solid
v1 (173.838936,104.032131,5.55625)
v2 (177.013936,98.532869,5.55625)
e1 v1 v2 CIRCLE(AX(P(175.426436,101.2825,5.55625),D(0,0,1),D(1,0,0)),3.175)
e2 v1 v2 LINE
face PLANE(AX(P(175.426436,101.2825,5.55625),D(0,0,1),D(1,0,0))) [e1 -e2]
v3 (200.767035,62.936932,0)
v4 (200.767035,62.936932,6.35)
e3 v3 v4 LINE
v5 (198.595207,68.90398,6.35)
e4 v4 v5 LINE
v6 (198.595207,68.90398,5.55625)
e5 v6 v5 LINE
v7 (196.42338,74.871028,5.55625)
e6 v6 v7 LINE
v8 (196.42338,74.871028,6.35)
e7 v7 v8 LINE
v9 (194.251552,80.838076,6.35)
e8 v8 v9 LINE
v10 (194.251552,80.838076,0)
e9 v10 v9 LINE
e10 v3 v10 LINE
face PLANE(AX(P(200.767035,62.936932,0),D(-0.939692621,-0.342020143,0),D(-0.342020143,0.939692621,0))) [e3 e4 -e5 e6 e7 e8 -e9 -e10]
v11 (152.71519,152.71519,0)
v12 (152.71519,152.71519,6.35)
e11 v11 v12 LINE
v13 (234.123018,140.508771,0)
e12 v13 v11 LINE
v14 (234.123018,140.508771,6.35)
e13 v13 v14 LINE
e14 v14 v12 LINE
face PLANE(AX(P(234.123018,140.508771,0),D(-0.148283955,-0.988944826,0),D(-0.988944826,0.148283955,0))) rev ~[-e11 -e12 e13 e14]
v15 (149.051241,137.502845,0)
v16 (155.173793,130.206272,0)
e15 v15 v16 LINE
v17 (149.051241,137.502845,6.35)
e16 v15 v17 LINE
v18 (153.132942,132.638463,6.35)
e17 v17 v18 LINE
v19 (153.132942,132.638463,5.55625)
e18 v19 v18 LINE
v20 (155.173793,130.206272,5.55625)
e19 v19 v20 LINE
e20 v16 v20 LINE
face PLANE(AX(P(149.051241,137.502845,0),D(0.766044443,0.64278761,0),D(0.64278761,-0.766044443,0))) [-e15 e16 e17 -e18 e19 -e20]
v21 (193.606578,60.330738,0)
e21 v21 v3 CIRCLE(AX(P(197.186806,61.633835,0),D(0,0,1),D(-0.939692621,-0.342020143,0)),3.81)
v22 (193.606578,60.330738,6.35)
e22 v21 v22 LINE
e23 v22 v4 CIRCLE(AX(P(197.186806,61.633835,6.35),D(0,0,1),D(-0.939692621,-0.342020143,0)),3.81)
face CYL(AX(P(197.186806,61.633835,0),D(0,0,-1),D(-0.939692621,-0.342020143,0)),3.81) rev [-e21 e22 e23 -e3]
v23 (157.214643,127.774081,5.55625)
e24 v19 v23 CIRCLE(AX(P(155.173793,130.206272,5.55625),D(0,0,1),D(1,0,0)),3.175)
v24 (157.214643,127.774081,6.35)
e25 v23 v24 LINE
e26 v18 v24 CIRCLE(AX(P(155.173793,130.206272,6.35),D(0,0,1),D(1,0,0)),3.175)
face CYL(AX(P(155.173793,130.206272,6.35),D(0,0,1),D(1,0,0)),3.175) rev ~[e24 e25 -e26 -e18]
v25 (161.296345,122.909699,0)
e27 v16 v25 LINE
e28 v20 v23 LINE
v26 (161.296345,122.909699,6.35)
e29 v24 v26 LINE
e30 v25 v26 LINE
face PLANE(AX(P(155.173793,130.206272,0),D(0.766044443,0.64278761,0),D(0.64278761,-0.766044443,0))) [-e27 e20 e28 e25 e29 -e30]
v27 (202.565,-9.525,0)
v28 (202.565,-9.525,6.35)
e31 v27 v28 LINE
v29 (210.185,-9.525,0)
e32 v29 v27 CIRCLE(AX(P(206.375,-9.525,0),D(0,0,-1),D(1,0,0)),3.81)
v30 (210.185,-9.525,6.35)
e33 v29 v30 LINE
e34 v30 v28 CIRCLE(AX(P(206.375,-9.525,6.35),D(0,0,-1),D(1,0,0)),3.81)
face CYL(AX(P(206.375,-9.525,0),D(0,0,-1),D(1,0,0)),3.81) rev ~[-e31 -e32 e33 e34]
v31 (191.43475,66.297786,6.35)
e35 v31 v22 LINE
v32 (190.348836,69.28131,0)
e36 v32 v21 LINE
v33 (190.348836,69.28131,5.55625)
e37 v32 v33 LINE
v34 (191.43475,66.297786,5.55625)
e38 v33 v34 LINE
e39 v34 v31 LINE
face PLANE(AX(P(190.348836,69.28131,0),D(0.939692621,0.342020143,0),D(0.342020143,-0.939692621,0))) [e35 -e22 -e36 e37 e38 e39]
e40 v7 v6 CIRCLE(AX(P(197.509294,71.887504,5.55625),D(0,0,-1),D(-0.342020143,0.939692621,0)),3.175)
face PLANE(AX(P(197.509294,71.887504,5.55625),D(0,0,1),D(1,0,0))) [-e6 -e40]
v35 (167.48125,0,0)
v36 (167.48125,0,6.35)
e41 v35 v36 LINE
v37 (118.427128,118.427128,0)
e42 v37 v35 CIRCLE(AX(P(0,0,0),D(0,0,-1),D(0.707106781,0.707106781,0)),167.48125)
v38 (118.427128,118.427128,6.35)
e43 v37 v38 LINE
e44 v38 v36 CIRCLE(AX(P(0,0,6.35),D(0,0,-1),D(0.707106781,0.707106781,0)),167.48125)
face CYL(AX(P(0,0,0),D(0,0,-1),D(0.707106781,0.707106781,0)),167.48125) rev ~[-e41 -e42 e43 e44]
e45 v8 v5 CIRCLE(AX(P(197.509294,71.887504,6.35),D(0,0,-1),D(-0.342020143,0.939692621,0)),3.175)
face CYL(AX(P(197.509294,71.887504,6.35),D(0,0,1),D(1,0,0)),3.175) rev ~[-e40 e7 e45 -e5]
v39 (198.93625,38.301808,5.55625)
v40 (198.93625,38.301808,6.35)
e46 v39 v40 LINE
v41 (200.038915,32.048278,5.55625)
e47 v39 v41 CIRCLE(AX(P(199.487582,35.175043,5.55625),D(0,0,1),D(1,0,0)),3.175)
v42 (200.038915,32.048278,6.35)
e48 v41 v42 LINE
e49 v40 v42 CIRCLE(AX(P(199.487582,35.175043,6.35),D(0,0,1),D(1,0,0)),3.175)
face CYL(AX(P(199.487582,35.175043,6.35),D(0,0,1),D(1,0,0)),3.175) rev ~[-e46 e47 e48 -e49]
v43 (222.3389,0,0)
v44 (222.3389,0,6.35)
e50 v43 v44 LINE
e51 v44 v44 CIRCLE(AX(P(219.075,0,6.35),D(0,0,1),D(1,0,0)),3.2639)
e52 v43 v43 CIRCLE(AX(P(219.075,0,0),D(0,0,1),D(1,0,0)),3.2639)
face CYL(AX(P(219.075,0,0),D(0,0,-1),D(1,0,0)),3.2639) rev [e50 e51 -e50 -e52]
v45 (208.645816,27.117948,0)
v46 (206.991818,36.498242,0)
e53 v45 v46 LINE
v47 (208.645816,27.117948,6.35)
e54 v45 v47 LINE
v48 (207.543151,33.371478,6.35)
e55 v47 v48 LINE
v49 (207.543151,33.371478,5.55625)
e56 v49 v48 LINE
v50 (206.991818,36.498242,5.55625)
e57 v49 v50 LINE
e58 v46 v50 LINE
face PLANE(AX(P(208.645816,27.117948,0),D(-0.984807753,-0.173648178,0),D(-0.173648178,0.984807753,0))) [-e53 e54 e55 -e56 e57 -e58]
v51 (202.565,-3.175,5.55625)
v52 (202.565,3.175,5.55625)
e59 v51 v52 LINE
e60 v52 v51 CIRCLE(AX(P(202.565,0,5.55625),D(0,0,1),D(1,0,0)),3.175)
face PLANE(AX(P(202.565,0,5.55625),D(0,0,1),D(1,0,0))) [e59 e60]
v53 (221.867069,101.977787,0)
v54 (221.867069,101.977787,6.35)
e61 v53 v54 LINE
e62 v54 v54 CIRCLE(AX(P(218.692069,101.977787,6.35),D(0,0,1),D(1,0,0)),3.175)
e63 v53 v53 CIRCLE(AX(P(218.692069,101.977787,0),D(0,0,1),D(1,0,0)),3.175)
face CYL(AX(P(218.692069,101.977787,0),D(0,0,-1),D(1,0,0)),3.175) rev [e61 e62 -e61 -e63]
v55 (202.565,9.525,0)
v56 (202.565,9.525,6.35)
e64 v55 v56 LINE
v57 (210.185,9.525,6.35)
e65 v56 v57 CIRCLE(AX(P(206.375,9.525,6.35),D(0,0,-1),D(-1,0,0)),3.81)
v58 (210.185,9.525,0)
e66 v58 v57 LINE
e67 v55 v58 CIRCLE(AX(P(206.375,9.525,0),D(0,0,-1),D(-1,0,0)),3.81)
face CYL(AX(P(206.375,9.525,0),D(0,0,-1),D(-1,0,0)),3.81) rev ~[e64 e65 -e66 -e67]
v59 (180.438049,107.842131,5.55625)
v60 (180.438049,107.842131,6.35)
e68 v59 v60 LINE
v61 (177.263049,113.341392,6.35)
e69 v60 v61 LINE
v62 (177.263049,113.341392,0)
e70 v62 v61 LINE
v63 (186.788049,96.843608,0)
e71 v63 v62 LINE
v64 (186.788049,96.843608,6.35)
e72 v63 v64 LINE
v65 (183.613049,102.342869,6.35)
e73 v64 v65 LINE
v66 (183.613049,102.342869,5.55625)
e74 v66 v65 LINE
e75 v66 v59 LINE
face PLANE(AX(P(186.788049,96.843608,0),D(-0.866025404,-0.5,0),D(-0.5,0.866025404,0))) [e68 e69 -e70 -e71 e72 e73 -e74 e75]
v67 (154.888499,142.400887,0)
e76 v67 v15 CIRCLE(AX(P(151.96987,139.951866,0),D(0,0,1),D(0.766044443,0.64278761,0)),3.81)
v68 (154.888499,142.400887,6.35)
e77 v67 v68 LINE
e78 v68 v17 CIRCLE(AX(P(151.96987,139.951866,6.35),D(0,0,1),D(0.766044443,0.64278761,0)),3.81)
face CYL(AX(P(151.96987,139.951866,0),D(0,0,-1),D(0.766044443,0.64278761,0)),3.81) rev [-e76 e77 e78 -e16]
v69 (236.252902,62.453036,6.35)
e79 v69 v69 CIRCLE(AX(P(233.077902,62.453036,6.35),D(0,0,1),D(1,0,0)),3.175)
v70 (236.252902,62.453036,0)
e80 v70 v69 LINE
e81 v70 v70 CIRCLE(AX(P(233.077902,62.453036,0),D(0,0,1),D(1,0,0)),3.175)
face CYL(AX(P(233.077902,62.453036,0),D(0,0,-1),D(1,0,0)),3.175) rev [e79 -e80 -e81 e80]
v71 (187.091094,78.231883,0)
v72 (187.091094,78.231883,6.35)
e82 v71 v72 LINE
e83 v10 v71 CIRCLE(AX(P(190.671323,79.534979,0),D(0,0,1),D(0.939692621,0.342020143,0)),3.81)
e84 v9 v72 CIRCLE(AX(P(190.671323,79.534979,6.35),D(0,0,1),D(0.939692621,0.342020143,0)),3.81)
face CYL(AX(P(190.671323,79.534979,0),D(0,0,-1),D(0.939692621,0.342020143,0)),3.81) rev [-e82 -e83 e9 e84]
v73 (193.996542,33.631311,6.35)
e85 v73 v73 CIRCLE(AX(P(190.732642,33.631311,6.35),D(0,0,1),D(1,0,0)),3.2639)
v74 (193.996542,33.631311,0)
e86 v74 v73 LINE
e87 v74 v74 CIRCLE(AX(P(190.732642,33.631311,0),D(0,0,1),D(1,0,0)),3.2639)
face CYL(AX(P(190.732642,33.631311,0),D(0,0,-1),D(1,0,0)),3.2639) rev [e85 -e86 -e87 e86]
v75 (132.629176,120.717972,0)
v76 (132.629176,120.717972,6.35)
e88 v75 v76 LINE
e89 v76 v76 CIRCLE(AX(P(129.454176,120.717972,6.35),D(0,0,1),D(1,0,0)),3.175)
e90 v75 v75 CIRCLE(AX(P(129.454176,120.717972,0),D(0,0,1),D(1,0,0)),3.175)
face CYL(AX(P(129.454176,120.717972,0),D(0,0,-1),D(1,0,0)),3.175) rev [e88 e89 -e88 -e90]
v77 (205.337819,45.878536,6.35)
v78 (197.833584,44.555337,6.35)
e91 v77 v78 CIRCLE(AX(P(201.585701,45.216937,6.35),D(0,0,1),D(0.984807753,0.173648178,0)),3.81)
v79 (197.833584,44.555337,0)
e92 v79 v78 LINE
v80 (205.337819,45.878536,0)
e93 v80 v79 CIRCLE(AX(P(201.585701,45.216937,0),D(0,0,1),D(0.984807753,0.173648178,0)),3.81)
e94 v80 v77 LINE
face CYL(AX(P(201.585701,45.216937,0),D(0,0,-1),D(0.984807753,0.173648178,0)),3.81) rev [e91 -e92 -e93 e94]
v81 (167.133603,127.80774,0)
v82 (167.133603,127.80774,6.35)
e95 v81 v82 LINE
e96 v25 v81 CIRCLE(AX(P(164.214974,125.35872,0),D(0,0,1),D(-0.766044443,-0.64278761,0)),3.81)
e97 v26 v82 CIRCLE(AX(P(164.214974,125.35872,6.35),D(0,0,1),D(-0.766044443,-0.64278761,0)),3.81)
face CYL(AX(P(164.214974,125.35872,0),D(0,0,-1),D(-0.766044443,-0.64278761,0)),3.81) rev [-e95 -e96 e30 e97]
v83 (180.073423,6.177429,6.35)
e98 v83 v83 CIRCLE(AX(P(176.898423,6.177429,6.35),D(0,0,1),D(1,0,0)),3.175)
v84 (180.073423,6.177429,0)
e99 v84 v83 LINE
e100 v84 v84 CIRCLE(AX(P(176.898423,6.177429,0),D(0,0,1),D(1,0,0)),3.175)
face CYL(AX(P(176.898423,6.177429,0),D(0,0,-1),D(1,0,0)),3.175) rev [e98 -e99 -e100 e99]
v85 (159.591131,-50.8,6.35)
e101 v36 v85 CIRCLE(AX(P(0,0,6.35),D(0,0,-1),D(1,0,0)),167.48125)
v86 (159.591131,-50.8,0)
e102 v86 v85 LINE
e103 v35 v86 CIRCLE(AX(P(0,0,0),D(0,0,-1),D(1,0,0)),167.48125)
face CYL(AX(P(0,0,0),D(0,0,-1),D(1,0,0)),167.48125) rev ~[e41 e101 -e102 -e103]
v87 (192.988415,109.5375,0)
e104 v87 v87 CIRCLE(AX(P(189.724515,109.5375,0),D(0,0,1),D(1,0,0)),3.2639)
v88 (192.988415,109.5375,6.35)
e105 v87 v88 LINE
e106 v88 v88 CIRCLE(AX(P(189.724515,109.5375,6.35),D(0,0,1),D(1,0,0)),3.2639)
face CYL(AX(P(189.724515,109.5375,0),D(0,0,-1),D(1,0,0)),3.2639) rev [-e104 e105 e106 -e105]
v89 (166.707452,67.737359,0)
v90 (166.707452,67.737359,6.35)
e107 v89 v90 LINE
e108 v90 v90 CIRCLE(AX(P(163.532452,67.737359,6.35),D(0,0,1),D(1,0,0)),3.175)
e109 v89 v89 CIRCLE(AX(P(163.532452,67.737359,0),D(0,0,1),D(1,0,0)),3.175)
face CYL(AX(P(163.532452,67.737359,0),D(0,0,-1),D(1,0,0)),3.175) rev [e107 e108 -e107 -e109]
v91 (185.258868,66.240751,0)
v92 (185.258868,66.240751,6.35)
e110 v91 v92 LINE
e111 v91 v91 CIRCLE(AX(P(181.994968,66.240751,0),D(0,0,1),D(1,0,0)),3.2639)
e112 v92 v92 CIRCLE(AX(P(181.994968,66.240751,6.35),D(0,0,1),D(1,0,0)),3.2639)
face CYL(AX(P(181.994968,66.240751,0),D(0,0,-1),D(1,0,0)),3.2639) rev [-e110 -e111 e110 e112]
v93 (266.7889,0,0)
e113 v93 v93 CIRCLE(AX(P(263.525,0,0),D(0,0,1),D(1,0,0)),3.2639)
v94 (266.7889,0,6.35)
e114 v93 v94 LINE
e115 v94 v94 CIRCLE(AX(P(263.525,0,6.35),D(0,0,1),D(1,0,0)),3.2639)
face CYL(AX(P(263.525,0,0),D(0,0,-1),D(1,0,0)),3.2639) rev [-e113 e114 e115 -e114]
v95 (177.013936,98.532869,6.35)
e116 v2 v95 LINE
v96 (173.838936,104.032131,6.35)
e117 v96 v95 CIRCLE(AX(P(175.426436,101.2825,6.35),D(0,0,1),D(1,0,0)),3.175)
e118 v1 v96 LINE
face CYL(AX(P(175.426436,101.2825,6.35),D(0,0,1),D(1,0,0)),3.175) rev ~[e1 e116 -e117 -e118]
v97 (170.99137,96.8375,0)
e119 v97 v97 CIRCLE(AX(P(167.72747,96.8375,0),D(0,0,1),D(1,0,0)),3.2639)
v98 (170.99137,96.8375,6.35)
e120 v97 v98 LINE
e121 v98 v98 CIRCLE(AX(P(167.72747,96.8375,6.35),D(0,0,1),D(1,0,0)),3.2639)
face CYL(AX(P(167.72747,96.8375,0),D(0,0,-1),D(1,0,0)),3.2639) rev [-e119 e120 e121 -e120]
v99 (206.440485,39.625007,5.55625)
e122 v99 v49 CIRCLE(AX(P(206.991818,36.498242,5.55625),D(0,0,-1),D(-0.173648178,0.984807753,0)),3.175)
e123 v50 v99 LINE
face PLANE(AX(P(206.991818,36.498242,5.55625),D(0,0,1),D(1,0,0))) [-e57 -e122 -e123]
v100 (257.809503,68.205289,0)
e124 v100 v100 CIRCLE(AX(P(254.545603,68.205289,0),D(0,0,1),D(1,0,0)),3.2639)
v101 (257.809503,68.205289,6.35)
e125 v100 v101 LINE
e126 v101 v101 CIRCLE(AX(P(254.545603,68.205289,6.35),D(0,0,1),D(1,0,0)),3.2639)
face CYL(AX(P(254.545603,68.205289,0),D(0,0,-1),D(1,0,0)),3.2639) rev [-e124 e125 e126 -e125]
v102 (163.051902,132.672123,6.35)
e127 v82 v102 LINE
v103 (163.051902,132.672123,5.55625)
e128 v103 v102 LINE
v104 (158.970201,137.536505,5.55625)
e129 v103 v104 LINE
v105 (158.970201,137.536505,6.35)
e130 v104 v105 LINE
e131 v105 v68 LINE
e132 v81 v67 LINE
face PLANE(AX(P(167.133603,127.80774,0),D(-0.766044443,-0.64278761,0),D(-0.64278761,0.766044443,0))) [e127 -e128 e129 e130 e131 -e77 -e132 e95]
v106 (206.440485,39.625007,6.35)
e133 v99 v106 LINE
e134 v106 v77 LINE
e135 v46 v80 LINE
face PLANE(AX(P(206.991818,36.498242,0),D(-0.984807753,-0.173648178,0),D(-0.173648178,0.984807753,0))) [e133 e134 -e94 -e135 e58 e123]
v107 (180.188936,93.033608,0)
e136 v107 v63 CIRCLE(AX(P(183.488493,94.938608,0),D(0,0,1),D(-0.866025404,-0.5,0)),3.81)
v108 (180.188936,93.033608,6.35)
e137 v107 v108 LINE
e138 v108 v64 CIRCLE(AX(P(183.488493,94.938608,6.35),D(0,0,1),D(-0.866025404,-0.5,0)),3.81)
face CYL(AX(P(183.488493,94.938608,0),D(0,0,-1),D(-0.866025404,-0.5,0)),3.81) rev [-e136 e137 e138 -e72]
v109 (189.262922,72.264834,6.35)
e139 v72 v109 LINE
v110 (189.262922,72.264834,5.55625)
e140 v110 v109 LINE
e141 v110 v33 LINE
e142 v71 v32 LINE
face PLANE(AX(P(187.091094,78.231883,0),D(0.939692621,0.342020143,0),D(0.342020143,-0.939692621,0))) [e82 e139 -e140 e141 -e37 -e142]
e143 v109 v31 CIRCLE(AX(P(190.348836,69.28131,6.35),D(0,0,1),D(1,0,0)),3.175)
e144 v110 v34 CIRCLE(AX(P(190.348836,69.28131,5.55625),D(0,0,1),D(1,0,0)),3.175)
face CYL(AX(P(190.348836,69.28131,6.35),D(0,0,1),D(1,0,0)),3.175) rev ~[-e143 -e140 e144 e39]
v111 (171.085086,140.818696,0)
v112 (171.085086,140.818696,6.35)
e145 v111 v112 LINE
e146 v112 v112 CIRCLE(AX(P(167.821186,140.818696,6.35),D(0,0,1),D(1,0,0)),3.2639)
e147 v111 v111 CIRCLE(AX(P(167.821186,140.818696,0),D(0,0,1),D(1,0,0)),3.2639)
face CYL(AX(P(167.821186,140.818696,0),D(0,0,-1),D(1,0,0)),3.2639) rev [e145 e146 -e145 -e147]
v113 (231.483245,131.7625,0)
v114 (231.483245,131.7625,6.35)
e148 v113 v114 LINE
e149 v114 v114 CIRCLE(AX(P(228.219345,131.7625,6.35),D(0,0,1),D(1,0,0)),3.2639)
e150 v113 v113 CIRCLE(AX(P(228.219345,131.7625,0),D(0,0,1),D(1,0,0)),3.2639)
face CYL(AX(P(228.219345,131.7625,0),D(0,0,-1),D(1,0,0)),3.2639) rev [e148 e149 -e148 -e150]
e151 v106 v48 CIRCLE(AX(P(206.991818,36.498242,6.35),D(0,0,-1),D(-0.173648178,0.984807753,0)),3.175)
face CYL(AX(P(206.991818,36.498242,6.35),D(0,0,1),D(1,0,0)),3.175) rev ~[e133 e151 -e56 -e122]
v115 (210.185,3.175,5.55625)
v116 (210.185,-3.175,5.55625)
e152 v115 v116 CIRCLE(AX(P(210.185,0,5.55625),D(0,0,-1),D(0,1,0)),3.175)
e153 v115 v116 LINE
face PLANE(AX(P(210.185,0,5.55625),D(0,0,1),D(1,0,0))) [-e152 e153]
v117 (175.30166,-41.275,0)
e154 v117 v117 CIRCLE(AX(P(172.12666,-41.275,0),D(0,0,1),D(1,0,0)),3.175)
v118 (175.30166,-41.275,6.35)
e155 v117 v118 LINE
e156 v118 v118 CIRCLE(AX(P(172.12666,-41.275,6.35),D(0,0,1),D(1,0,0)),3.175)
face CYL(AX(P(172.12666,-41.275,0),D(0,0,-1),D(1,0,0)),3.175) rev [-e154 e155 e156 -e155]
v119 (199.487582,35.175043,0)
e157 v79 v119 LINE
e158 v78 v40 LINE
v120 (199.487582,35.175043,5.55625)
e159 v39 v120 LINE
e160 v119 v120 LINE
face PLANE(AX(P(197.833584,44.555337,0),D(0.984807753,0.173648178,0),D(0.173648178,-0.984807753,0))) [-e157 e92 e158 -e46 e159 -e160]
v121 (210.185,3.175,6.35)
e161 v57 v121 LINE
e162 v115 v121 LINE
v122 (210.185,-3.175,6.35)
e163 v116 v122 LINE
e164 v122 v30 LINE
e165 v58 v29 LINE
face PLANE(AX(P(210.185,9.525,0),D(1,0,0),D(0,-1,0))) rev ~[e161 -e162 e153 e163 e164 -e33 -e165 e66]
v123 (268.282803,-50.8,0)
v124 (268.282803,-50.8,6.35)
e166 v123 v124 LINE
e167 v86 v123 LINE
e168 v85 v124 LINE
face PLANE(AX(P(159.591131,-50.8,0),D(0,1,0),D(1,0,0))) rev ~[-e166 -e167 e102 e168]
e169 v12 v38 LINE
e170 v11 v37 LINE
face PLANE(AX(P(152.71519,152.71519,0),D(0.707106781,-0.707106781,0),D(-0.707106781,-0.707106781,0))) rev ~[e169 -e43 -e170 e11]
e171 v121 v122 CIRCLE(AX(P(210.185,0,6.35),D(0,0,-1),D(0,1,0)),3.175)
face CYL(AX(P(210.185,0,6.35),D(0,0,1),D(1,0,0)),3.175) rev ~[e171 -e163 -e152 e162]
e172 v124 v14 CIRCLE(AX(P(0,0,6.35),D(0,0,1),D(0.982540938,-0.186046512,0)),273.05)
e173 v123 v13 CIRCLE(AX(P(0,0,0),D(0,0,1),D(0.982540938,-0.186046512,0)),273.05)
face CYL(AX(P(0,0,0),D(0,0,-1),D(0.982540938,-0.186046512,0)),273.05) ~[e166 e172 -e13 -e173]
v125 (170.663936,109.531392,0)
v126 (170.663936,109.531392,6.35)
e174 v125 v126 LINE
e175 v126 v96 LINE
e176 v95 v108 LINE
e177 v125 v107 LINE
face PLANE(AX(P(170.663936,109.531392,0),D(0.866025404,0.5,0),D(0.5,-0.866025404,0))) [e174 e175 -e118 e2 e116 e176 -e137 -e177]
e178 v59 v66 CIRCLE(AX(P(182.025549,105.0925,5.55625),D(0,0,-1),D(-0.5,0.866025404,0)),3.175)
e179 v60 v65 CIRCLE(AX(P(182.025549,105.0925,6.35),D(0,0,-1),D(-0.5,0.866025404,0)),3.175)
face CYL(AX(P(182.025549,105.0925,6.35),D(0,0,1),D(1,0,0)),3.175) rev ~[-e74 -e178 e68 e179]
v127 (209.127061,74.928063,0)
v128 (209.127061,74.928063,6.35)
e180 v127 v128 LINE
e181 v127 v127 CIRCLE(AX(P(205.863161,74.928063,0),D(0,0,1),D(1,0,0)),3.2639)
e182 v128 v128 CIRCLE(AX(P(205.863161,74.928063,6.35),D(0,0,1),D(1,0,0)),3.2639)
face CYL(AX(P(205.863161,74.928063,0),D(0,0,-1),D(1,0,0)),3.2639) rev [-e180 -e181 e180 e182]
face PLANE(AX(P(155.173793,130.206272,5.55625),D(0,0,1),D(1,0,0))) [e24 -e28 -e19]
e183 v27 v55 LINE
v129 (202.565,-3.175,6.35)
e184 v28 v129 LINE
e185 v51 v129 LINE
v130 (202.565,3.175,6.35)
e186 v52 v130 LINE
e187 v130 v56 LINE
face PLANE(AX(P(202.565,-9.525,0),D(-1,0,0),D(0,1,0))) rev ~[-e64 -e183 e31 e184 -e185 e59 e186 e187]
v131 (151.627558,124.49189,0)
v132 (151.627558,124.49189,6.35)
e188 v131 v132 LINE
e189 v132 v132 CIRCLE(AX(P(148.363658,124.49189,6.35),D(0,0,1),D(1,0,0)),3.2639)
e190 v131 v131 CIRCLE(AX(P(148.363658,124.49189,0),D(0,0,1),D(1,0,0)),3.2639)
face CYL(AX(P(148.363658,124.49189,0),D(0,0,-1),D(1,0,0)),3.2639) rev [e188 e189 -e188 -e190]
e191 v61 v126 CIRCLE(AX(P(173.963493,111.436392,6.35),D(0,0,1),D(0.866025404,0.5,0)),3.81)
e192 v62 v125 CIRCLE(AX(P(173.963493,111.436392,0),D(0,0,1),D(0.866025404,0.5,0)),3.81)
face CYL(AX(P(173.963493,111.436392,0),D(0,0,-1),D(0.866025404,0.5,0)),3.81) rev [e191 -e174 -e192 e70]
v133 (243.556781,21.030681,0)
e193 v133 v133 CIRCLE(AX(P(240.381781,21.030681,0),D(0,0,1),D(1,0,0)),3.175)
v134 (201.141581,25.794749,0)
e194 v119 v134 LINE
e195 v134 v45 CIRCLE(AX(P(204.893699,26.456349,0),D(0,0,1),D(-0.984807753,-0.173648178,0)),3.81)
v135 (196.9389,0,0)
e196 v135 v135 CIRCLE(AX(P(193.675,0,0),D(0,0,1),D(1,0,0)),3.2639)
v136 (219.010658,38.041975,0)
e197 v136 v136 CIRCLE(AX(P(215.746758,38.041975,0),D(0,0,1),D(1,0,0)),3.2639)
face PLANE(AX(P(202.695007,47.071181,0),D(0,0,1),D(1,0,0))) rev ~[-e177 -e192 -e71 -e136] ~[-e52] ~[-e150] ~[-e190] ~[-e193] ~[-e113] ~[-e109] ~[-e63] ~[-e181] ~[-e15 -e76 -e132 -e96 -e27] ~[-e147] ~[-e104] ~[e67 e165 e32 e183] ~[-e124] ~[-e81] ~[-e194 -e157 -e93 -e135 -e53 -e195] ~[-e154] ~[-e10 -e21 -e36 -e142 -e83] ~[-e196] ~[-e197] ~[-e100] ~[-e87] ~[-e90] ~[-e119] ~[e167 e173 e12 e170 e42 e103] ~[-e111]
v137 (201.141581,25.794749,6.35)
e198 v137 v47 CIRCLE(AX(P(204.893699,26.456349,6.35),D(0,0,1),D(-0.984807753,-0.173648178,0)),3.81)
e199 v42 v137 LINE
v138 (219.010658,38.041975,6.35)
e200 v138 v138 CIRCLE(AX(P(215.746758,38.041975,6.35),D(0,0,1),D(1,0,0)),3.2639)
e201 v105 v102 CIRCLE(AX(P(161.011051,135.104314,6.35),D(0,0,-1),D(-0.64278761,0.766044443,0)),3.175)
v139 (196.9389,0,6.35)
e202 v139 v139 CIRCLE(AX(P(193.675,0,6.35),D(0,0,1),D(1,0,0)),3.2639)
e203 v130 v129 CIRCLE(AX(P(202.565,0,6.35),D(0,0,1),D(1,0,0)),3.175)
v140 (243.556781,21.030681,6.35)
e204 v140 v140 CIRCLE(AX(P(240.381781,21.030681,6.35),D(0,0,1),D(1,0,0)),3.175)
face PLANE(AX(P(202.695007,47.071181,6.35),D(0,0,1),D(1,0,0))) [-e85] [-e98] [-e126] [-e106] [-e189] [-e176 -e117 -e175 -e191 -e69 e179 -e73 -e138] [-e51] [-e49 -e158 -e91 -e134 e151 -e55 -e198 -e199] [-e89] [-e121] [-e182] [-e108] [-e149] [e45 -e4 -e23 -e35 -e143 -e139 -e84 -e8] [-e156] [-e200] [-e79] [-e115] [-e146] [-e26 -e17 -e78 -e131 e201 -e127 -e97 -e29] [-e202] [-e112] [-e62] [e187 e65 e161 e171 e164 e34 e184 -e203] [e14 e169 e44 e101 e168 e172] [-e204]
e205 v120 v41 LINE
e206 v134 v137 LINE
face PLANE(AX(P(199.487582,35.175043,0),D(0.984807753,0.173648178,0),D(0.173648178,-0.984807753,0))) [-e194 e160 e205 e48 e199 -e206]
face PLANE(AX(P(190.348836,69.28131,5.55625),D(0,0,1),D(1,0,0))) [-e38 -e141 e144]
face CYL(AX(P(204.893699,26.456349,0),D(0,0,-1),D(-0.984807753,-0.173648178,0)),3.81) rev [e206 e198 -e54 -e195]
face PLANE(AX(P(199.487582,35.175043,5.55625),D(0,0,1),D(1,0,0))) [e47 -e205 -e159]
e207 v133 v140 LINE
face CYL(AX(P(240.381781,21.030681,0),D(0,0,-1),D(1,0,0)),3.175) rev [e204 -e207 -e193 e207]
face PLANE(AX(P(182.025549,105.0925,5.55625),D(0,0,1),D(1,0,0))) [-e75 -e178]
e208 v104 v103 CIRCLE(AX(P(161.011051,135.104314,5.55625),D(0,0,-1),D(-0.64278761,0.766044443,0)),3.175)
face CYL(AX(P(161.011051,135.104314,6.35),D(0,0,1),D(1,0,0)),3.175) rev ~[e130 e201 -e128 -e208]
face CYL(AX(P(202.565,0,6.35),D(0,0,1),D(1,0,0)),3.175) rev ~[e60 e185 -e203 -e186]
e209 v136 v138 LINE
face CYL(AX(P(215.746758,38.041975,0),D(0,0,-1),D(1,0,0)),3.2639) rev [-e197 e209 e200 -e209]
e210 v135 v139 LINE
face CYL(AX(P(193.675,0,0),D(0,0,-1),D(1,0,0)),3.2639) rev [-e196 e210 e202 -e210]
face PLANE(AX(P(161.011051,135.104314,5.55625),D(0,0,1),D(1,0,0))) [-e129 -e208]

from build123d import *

# Parameters (mm, degrees)
SKETCH1_R           = 3.175
SKETCH1_R_2         = 3.2639
BOSS_EXTRUDE1_DEPTH = 6.35
SKETCH2_R           = 3.175
CUT_EXTRUDE1_DEPTH  = 0.79375


with BuildPart() as part:
    # Sketch1 → Boss-Extrude1 (new body)
    with BuildSketch(Plane.XY):
        with BuildLine():
            Line((159.591131024, -50.8), (268.282803213, -50.8))
            ThreePointArc((268.282803213, -50.8), (268.798556268, 47.996235774), (234.123018172, 140.508771477))
            Line((234.123018172, 140.508771477), (152.715190262, 152.715190262))
            Line((152.715190262, 152.715190262), (118.427127597, 118.427127597))
            ThreePointArc((118.427127597, 118.427127597), (154.732498954, 64.092299607), (167.48125, 0))
            ThreePointArc((167.48125, 0), (165.496965553, -25.70454229), (159.591131024, -50.8))
        make_face()
        with Locations((176.898422575, 6.177429038)):
            Circle(SKETCH1_R, mode=Mode.SUBTRACT)
        with Locations((129.454176147, 120.717972221)):
            Circle(SKETCH1_R, mode=Mode.SUBTRACT)
        with Locations((163.532451502, 67.7373593)):
            Circle(SKETCH1_R, mode=Mode.SUBTRACT)
        with Locations((172.12665951, -41.275)):
            Circle(SKETCH1_R, mode=Mode.SUBTRACT)
        with Locations((193.675, 0)):
            Circle(SKETCH1_R_2, mode=Mode.SUBTRACT)
        with Locations((219.075, 0)):
            Circle(SKETCH1_R_2, mode=Mode.SUBTRACT)
        with Locations((215.746758491, 38.041974522)):
            Circle(SKETCH1_R_2, mode=Mode.SUBTRACT)
        with Locations((190.732641565, 33.63131081)):
            Circle(SKETCH1_R_2, mode=Mode.SUBTRACT)
        with Locations((205.863160899, 74.928062899)):
            Circle(SKETCH1_R_2, mode=Mode.SUBTRACT)
        with Locations((181.994968331, 66.240751259)):
            Circle(SKETCH1_R_2, mode=Mode.SUBTRACT)
        with Locations((189.724515334, 109.5375)):
            Circle(SKETCH1_R_2, mode=Mode.SUBTRACT)
        with Locations((167.727470078, 96.8375)):
            Circle(SKETCH1_R_2, mode=Mode.SUBTRACT)
        with Locations((167.821186376, 140.818695592)):
            Circle(SKETCH1_R_2, mode=Mode.SUBTRACT)
        with Locations((148.363657521, 124.491890306)):
            Circle(SKETCH1_R_2, mode=Mode.SUBTRACT)
        with Locations((263.525, 0)):
            Circle(SKETCH1_R_2, mode=Mode.SUBTRACT)
        with Locations((254.545603373, 68.205288861)):
            Circle(SKETCH1_R_2, mode=Mode.SUBTRACT)
        with Locations((228.219344532, 131.7625)):
            Circle(SKETCH1_R_2, mode=Mode.SUBTRACT)
        with Locations((240.38178065, 21.030680725)):
            Circle(SKETCH1_R, mode=Mode.SUBTRACT)
        with Locations((233.077901884, 62.453035583)):
            Circle(SKETCH1_R, mode=Mode.SUBTRACT)
        with Locations((218.692069012, 101.977786558)):
            Circle(SKETCH1_R, mode=Mode.SUBTRACT)
        with BuildLine():
            Line((202.565, 0), (202.565, 9.525))
            ThreePointArc((202.565, 9.525), (206.375, 13.335), (210.185, 9.525))
            Line((210.185, 9.525), (210.185, 0))
            Line((210.185, 0), (210.185, -9.525))
            ThreePointArc((210.185, -9.525), (206.375, -13.335), (202.565, -9.525))
            Line((202.565, -9.525), (202.565, 0))
        make_face(mode=Mode.SUBTRACT)
        with BuildLine():
            Line((199.487582489, 35.175043109), (201.141581381, 25.794749262))
            ThreePointArc((201.141581381, 25.794749262), (205.555298477, 22.70423128), (208.645816459, 27.117948375))
            Line((208.645816459, 27.117948375), (206.991817567, 36.498242223))
            Line((206.991817567, 36.498242223), (205.337818675, 45.87853607))
            ThreePointArc((205.337818675, 45.87853607), (200.924101579, 48.969054052), (197.833583597, 44.555336957))
            Line((197.833583597, 44.555336957), (199.487582489, 35.175043109))
        make_face(mode=Mode.SUBTRACT)
        with BuildLine():
            Line((190.348835729, 69.281310333), (193.606577595, 60.33073812))
            ThreePointArc((193.606577595, 60.33073812), (198.489903226, 58.053605981), (200.767035365, 62.936931612))
            Line((200.767035365, 62.936931612), (197.5092935, 71.887503825))
            Line((197.5092935, 71.887503825), (194.251551635, 80.838076038))
            ThreePointArc((194.251551635, 80.838076038), (189.368226003, 83.115208177), (187.091093864, 78.231882546))
            Line((187.091093864, 78.231882546), (190.348835729, 69.281310333))
        make_face(mode=Mode.SUBTRACT)
        with BuildLine():
            Line((175.426435918, 101.2825), (180.188935918, 93.033608029))
            ThreePointArc((180.188935918, 93.033608029), (185.393492706, 91.639051241), (186.788049494, 96.843608029))
            Line((186.788049494, 96.843608029), (182.025549494, 105.0925))
            Line((182.025549494, 105.0925), (177.263049494, 113.341391971))
            ThreePointArc((177.263049494, 113.341391971), (172.058492706, 114.735948759), (170.663935918, 109.531391971))
            Line((170.663935918, 109.531391971), (175.426435918, 101.2825))
        make_face(mode=Mode.SUBTRACT)
        with BuildLine():
            Line((155.17379262, 130.206272156), (161.296344603, 122.909698835))
            ThreePointArc((161.296344603, 122.909698835), (166.663994724, 122.4400903), (167.133603259, 127.807740421))
            Line((167.133603259, 127.807740421), (161.011051277, 135.104313742))
            Line((161.011051277, 135.104313742), (154.888499295, 142.400887063))
            ThreePointArc((154.888499295, 142.400887063), (149.520849174, 142.870495598), (149.051240638, 137.502845477))
            Line((149.051240638, 137.502845477), (155.17379262, 130.206272156))
        make_face(mode=Mode.SUBTRACT)
    extrude(amount=BOSS_EXTRUDE1_DEPTH)

    # Sketch2 → Cut-Extrude1 (cut)
    with BuildSketch(Plane.XY.offset(6.35)):
        with Locations((202.565, 0)):
            Circle(SKETCH2_R)
        with Locations((210.185, 0)):
            Circle(SKETCH2_R)
        with Locations((199.487582489, 35.175043109)):
            Circle(SKETCH2_R)
        with Locations((206.991817567, 36.498242223)):
            Circle(SKETCH2_R)
        with Locations((190.348835729, 69.281310333)):
            Circle(SKETCH2_R)
        with Locations((197.5092935, 71.887503825)):
            Circle(SKETCH2_R)
        with Locations((175.426435918, 101.2825)):
            Circle(SKETCH2_R)
        with Locations((182.025549494, 105.0925)):
            Circle(SKETCH2_R)
        with Locations((155.17379262, 130.206272156)):
            Circle(SKETCH2_R)
        with Locations((161.011051277, 135.104313742)):
            Circle(SKETCH2_R)
    extrude(amount=-CUT_EXTRUDE1_DEPTH, mode=Mode.SUBTRACT)


solid = part.part
